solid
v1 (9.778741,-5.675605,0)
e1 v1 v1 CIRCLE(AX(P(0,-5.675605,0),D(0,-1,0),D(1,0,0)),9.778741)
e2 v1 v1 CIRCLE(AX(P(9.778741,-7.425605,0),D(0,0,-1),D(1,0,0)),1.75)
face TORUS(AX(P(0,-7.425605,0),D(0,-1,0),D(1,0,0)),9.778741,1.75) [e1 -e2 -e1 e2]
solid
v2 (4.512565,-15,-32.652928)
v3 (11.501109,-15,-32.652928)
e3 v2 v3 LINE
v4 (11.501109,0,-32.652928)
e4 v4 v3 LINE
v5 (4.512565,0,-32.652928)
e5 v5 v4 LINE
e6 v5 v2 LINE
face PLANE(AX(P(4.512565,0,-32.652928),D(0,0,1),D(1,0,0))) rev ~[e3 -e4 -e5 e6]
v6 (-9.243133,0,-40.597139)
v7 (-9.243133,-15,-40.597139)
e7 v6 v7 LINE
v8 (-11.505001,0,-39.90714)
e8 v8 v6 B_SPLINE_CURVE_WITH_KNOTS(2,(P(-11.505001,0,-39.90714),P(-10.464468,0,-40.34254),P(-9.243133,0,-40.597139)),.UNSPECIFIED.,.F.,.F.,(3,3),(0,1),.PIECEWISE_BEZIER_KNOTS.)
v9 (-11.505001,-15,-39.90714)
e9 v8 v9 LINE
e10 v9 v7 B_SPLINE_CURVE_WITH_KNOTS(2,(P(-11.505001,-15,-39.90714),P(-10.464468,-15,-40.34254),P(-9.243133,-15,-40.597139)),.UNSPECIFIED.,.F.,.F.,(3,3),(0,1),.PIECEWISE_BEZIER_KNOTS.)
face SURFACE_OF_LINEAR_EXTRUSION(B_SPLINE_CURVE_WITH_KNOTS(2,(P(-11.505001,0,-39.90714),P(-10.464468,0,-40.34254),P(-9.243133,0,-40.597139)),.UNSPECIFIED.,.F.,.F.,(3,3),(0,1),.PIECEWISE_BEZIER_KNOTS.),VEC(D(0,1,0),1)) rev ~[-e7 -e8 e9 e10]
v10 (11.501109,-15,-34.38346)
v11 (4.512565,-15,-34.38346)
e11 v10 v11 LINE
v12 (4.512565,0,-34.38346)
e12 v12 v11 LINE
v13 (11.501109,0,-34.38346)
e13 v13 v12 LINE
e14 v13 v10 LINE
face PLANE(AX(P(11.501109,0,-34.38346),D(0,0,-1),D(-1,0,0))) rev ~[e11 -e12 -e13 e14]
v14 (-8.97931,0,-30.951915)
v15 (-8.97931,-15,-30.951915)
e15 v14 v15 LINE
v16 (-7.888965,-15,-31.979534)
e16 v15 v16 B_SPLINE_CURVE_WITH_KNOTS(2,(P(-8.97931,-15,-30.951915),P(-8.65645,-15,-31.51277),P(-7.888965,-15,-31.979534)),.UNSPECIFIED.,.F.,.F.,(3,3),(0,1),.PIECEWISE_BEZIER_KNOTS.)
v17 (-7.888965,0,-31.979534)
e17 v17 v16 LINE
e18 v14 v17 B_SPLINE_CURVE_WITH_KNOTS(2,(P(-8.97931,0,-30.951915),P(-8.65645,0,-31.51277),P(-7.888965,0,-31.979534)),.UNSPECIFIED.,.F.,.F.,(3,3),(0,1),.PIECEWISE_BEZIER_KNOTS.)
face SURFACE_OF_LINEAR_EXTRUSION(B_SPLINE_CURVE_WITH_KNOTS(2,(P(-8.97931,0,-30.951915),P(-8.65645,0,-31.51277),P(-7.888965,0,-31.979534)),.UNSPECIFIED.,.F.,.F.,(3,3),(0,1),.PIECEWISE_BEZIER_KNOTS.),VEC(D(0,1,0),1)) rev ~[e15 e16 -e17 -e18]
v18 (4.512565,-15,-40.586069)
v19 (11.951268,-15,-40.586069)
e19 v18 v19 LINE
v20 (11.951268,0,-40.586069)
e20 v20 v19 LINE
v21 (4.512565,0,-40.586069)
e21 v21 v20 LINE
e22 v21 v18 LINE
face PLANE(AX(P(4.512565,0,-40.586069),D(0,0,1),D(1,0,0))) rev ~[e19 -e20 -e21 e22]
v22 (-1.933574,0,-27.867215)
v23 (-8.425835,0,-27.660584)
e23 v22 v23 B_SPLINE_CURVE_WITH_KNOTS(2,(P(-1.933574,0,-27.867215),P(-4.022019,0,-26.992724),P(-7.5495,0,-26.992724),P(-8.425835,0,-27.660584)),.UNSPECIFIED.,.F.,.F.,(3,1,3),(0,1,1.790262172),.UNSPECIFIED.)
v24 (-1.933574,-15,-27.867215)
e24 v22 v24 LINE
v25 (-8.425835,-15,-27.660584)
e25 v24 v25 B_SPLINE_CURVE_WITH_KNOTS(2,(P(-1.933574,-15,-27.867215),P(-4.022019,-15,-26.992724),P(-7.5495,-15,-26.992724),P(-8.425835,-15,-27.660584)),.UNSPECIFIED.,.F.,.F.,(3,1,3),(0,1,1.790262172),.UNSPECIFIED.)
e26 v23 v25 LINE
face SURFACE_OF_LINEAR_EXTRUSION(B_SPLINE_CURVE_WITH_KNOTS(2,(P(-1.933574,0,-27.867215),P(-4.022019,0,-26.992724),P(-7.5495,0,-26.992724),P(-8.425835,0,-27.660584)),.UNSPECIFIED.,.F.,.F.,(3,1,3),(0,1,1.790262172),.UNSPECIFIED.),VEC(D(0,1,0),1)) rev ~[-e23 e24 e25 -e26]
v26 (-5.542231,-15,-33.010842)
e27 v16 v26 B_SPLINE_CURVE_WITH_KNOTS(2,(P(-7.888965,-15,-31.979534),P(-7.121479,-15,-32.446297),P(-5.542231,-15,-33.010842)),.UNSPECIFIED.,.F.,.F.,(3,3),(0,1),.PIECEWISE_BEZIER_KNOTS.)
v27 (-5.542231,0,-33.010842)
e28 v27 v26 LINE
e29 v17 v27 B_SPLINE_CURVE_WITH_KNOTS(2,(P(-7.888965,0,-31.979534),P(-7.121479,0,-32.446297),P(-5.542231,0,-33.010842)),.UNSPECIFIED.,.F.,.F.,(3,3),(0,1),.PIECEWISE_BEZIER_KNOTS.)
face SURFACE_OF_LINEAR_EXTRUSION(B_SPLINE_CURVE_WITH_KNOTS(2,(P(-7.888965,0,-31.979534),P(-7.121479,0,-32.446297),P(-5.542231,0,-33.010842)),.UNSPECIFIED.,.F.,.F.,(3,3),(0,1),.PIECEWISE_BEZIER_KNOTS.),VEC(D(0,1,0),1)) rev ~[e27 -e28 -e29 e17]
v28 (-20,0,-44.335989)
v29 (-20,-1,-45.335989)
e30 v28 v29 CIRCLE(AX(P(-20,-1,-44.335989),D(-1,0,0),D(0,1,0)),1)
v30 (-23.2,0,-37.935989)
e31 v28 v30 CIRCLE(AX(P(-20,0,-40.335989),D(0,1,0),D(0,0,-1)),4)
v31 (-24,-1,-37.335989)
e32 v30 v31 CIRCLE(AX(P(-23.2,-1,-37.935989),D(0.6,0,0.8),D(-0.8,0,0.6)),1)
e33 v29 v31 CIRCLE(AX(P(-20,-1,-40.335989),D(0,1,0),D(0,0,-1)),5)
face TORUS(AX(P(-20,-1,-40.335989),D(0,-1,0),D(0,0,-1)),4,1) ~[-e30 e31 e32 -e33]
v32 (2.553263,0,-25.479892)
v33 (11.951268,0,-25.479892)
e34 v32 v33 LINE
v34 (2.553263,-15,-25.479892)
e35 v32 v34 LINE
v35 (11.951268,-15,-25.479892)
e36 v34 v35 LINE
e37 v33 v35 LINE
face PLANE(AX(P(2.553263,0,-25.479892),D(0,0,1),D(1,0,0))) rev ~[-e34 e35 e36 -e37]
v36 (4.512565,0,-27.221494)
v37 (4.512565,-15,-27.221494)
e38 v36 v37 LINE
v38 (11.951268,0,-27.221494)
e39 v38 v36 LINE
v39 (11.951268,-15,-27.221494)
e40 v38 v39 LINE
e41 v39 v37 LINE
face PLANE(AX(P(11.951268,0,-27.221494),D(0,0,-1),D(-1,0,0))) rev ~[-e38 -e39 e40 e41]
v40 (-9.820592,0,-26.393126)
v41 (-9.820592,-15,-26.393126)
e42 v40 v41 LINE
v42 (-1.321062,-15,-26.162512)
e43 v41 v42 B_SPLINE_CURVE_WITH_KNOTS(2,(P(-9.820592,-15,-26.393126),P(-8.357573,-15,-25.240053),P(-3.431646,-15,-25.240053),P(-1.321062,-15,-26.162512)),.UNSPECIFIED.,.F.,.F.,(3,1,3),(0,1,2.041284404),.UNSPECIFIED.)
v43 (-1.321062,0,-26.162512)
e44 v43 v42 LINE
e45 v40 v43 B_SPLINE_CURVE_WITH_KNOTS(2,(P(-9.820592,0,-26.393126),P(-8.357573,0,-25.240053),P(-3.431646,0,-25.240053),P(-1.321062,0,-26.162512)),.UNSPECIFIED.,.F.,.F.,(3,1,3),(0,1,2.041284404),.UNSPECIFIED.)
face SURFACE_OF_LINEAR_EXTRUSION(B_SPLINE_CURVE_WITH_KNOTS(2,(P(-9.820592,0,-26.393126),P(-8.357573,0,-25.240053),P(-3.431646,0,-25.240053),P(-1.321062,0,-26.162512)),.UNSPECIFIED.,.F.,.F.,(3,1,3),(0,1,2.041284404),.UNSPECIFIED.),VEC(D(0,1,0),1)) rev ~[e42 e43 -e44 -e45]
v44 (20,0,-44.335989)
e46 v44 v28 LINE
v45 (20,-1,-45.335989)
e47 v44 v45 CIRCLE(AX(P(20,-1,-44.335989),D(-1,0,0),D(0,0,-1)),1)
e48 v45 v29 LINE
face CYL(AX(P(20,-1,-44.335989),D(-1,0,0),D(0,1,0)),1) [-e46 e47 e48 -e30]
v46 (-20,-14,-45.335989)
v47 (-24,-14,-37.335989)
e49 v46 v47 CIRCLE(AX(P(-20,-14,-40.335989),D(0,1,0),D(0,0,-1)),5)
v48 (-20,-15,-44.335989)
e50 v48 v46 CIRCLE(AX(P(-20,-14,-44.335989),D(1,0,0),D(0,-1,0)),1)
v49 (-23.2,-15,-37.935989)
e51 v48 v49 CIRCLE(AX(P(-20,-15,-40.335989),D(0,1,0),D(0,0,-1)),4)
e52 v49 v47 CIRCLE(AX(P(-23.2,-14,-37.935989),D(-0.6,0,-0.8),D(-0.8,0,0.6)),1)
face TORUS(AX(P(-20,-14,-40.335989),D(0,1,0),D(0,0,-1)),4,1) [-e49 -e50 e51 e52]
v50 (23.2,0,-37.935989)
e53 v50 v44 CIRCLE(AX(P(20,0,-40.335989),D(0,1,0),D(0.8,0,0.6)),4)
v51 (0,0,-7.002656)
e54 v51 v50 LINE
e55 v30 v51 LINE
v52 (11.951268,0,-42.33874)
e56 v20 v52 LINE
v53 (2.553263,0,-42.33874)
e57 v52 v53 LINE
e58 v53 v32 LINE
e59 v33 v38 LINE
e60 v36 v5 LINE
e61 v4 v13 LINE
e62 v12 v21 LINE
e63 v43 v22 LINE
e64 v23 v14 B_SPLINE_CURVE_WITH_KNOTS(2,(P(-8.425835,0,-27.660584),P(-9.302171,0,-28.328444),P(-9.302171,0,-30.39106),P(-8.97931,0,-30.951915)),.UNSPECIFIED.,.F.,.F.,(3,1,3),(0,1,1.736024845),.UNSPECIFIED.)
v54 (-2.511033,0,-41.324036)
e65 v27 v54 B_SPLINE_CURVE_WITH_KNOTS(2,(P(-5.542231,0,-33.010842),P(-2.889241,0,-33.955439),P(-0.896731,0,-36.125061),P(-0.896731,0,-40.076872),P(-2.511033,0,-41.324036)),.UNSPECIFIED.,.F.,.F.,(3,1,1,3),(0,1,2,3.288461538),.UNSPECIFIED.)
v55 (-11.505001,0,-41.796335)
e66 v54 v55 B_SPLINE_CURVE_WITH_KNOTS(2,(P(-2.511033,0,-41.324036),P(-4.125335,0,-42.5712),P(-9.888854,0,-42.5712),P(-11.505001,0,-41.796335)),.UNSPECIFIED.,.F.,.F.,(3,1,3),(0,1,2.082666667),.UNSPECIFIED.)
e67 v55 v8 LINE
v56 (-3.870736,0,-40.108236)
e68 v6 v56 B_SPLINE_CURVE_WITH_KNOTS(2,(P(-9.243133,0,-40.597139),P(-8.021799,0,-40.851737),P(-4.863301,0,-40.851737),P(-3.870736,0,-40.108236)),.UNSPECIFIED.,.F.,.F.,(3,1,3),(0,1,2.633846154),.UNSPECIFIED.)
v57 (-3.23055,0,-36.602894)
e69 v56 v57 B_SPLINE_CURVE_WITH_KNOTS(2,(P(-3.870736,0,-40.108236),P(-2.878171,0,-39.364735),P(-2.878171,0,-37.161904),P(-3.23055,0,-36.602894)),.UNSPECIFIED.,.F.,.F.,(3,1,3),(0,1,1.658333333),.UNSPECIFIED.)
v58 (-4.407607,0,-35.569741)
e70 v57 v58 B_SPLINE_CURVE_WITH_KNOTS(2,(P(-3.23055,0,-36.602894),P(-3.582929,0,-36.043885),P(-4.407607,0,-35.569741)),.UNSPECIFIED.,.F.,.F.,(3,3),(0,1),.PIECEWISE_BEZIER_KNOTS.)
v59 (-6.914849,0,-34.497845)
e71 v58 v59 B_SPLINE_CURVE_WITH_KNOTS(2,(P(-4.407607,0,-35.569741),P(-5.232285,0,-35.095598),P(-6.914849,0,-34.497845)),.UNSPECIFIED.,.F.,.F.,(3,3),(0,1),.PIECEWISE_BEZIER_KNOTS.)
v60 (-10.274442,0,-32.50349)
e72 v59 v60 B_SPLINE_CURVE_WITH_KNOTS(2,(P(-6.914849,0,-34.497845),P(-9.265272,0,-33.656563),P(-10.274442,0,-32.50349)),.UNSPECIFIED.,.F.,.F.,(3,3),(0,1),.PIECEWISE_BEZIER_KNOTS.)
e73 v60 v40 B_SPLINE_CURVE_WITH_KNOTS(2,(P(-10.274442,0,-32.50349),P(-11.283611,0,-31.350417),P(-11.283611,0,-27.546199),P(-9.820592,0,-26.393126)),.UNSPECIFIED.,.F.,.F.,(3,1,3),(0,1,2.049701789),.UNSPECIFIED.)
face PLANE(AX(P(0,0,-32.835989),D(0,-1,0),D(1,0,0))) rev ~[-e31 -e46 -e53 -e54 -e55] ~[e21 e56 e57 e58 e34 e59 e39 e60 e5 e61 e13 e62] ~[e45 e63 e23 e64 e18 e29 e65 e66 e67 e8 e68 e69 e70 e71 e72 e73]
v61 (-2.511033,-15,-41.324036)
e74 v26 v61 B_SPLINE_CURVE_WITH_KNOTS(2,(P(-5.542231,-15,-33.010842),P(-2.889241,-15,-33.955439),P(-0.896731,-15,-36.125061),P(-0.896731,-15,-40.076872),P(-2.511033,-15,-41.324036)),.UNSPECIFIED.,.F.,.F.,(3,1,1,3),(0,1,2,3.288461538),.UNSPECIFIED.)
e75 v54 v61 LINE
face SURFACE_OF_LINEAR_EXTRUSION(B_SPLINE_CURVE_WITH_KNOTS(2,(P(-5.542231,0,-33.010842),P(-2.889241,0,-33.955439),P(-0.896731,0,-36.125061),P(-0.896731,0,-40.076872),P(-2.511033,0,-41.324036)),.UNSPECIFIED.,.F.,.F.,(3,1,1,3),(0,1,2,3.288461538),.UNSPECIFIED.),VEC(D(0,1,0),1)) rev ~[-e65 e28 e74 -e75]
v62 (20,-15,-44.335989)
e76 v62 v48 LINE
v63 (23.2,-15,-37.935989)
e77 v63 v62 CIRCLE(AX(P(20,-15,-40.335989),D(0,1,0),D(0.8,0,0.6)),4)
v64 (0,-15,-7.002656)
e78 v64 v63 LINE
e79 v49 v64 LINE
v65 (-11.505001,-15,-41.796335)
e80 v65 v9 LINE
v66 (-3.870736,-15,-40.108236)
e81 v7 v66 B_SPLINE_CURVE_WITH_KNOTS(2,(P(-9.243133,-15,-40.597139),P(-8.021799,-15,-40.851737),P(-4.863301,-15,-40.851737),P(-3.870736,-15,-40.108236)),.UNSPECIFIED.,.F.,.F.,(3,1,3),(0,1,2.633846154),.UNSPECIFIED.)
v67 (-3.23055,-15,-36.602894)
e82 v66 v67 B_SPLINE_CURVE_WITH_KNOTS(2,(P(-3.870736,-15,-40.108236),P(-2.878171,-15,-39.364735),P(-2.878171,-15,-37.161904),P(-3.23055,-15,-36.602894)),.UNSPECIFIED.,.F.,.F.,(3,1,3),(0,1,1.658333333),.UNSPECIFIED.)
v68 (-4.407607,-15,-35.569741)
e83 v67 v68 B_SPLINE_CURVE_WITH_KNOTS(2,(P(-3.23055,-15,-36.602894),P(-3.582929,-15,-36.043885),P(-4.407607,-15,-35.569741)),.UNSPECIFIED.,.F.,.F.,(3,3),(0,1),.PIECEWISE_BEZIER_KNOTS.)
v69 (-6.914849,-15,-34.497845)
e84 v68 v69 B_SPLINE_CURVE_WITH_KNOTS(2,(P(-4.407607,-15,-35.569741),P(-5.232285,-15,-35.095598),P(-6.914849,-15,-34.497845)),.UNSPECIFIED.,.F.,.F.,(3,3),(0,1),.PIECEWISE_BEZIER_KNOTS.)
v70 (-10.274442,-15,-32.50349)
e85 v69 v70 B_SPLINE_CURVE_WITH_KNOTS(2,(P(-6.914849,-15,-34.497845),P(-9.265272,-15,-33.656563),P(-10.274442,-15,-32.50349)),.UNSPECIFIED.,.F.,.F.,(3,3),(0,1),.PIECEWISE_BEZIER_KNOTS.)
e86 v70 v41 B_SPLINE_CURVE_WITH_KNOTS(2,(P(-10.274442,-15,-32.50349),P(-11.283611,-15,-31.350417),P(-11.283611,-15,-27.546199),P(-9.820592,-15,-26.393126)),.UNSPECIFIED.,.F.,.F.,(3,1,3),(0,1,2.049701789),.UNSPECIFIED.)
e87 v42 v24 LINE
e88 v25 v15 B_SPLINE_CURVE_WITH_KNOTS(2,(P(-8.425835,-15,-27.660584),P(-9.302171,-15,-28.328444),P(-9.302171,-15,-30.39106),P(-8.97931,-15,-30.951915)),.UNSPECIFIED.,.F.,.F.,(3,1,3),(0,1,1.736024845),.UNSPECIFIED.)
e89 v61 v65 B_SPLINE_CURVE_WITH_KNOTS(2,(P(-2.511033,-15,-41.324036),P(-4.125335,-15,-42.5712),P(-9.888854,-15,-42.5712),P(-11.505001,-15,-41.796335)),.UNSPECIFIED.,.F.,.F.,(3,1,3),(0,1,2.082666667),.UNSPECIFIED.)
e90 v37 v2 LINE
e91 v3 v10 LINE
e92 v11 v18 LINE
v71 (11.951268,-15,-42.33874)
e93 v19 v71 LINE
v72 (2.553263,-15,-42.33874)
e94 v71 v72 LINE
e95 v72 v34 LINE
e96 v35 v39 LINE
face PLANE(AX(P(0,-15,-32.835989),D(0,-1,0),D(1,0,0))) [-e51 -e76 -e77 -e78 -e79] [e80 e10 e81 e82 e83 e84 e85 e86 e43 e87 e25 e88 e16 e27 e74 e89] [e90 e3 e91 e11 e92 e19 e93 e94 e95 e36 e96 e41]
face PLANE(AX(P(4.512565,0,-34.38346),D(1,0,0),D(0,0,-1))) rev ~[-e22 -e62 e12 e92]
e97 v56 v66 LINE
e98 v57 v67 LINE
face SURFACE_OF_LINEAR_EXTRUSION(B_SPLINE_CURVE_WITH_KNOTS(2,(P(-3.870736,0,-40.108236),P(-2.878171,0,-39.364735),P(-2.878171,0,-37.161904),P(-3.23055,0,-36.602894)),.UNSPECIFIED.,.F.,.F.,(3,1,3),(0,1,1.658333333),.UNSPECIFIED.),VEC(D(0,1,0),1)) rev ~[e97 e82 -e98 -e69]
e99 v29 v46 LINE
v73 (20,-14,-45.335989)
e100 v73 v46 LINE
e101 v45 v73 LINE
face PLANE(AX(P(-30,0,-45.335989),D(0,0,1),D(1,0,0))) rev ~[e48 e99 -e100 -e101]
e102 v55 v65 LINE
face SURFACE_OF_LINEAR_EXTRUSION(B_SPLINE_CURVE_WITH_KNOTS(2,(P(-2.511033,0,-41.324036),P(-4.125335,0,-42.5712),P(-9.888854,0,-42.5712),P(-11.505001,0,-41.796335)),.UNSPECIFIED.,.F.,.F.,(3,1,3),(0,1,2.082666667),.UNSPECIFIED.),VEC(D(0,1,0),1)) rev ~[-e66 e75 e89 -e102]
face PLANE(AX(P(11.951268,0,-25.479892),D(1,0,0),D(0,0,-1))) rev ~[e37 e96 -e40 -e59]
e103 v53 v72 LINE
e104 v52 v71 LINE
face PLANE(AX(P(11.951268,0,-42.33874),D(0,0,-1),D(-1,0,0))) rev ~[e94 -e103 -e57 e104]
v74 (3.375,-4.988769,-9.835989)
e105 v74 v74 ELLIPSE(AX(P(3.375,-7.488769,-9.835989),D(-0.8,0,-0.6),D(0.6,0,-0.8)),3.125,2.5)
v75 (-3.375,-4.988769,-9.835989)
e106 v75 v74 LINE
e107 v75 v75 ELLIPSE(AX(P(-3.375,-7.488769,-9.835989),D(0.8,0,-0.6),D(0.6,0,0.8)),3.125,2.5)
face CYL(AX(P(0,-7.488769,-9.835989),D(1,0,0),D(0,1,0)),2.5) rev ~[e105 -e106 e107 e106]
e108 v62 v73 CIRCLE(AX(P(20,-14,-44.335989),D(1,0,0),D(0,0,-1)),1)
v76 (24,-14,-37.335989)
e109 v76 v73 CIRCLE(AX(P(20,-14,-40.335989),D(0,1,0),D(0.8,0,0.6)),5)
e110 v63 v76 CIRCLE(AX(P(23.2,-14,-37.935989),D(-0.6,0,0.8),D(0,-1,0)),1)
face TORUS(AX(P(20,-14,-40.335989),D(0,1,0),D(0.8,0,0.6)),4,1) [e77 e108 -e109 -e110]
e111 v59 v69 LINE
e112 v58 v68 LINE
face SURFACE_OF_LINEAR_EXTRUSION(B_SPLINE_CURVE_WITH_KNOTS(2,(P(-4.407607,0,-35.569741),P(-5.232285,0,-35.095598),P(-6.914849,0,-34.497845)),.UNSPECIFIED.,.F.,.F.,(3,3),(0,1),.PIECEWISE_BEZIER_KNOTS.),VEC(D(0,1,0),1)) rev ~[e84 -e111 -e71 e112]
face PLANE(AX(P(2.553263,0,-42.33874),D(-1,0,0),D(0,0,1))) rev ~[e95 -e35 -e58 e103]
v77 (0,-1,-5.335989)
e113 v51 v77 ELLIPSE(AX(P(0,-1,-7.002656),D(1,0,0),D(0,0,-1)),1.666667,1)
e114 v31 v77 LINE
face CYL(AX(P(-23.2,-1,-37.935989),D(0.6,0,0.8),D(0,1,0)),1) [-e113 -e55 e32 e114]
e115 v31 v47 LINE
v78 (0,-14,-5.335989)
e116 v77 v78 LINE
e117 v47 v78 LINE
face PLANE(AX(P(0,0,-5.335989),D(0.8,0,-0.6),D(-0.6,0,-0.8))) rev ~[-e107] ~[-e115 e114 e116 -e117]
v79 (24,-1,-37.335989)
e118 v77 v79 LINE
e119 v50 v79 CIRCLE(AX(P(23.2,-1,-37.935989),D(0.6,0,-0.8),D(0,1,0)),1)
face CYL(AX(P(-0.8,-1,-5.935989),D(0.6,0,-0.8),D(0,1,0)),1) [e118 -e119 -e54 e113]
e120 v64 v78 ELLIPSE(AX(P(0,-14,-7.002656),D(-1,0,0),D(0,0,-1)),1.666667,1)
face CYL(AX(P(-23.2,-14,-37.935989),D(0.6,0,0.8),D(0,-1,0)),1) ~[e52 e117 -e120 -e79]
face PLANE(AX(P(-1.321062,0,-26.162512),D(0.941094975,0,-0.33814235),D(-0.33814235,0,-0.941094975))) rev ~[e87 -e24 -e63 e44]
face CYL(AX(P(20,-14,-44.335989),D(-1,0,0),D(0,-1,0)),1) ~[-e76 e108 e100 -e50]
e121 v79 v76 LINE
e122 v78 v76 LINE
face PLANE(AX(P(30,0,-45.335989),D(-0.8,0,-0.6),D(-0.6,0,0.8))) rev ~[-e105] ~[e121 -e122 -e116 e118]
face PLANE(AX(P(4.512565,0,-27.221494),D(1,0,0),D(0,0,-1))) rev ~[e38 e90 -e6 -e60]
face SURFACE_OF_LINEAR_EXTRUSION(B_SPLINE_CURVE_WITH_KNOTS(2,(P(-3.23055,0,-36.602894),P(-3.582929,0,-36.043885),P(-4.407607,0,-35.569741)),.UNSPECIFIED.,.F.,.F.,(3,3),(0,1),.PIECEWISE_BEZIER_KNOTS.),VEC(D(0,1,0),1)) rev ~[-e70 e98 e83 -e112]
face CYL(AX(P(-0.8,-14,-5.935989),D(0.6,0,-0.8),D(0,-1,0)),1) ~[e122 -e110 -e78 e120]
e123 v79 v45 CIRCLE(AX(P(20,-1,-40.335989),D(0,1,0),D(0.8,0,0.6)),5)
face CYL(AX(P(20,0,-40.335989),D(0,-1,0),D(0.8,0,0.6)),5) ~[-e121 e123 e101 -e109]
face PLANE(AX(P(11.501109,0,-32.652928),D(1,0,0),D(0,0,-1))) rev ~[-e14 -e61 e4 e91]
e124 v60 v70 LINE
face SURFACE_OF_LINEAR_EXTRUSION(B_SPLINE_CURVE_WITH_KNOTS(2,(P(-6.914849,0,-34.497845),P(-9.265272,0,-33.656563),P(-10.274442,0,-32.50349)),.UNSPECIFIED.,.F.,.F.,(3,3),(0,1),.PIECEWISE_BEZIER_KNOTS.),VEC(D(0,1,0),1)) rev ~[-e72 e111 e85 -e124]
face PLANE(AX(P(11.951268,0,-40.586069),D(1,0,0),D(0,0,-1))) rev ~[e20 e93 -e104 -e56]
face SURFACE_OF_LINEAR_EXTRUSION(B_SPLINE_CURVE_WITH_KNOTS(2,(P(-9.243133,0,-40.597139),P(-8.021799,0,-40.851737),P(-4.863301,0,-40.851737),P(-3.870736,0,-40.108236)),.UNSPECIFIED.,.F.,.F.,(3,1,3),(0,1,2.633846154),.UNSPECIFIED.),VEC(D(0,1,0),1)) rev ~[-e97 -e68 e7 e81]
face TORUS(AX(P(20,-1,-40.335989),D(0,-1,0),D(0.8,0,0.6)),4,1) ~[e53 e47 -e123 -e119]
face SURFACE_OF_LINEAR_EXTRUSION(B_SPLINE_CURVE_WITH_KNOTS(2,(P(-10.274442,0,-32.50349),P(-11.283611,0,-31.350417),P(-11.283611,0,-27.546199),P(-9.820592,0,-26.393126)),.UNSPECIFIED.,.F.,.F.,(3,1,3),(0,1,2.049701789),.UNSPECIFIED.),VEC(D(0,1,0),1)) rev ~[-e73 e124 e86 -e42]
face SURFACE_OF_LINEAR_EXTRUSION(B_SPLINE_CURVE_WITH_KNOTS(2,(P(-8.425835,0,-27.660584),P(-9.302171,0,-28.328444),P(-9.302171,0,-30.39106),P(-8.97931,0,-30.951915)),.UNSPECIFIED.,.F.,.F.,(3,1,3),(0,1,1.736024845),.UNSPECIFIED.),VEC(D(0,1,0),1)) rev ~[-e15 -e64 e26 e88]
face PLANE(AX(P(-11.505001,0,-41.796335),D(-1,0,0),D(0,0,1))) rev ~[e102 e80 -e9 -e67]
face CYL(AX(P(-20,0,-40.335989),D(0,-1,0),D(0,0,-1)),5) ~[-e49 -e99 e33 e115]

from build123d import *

# Parameters (mm, degrees)
F1_DEPTH = 15
F2_R     = 5
F3_R     = 1
F4_R     = 2.5
F5_DEPTH = 12.5
F6_R     = 1.75


with BuildPart() as f1:
    # F0 (on Front) → F1 (new body)
    with BuildSketch(Plane.XZ):
        Polygon((30, -45.3359890039), (0, -5.3359890039), (-30, -45.3359890039), (0, -45.3359890039), align=None)
        with BuildLine():
            add(Edge.make_bspline(
                [(-1.8929857079, -35.0402501436), (-0.896730762, -36.1250610847), (-0.896730762, -37.8519029909)],
                knots=[0, 0, 0, 1, 1, 1], degree=2))
            add(Edge.make_bspline(
                [(-0.896730762, -37.8519029909), (-0.896730762, -40.0768723701), (-2.5110327577, -41.324035969)],
                knots=[0, 0, 0, 1, 1, 1], degree=2))
            add(Edge.make_bspline(
                [(-2.5110327577, -41.324035969), (-4.1253347533, -42.571199568), (-6.8927096031, -42.571199568)],
                knots=[0, 0, 0, 1, 1, 1], degree=2))
            add(Edge.make_bspline(
                [(-6.8927096031, -42.571199568), (-9.888854107, -42.571199568), (-11.5050010193, -41.79633461)],
                knots=[0, 0, 0, 1, 1, 1], degree=2))
            Line((-11.5050010193, -41.79633461), (-11.5050010193, -39.907140046))
            add(Edge.make_bspline(
                [(-11.5050010193, -39.907140046), (-10.4644680758, -40.3425403557), (-9.2431333088, -40.5971388418)],
                knots=[0, 0, 0, 1, 1, 1], degree=2))
            add(Edge.make_bspline(
                [(-9.2431333088, -40.5971388418), (-8.0217985417, -40.851737328), (-6.8226027735, -40.851737328)],
                knots=[0, 0, 0, 1, 1, 1], degree=2))
            add(Edge.make_bspline(
                [(-6.8226027735, -40.851737328), (-4.8633013799, -40.851737328), (-3.8707362672, -40.1082359517)],
                knots=[0, 0, 0, 1, 1, 1], degree=2))
            add(Edge.make_bspline(
                [(-3.8707362672, -40.1082359517), (-2.8781711544, -39.3647345754), (-2.8781711544, -38.0363946476)],
                knots=[0, 0, 0, 1, 1, 1], degree=2))
            add(Edge.make_bspline(
                [(-2.8781711544, -38.0363946476), (-2.8781711544, -37.161904195), (-3.2305502186, -36.6028944754)],
                knots=[0, 0, 0, 1, 1, 1], degree=2))
            add(Edge.make_bspline(
                [(-3.2305502186, -36.6028944754), (-3.5829292828, -36.0438847557), (-4.407606988, -35.5697411982)],
                knots=[0, 0, 0, 1, 1, 1], degree=2))
            add(Edge.make_bspline(
                [(-4.407606988, -35.5697411982), (-5.2322846932, -35.0955976406), (-6.9148486019, -34.497844673)],
                knots=[0, 0, 0, 1, 1, 1], degree=2))
            add(Edge.make_bspline(
                [(-6.9148486019, -34.497844673), (-9.2652723076, -33.6565627187), (-10.2744416694, -32.5034898647)],
                knots=[0, 0, 0, 1, 1, 1], degree=2))
            add(Edge.make_bspline(
                [(-10.2744416694, -32.5034898647), (-11.2836110313, -31.3504170106), (-11.2836110313, -29.4944309447)],
                knots=[0, 0, 0, 1, 1, 1], degree=2))
            add(Edge.make_bspline(
                [(-11.2836110313, -29.4944309447), (-11.2836110313, -27.5461990505), (-9.8205921941, -26.3931261965)],
                knots=[0, 0, 0, 1, 1, 1], degree=2))
            add(Edge.make_bspline(
                [(-9.8205921941, -26.3931261965), (-8.3575733568, -25.2400533424), (-5.9444224879, -25.2400533424)],
                knots=[0, 0, 0, 1, 1, 1], degree=2))
            add(Edge.make_bspline(
                [(-5.9444224879, -25.2400533424), (-3.4316461243, -25.2400533424), (-1.3210615723, -26.1625116257)],
                knots=[0, 0, 0, 1, 1, 1], degree=2))
            Line((-1.3210615723, -26.1625116257), (-1.9335738723, -27.8672145331))
            add(Edge.make_bspline(
                [(-1.9335738723, -27.8672145331), (-4.0220194256, -26.9927240806), (-5.9923903186, -26.9927240806)],
                knots=[0, 0, 0, 1, 1, 1], degree=2))
            add(Edge.make_bspline(
                [(-5.9923903186, -26.9927240806), (-7.5494999007, -26.9927240806), (-8.4258352698, -27.6605838776)],
                knots=[0, 0, 0, 1, 1, 1], degree=2))
            add(Edge.make_bspline(
                [(-8.4258352698, -27.6605838776), (-9.3021706389, -28.3284436747), (-9.3021706389, -29.5165699435)],
                knots=[0, 0, 0, 1, 1, 1], degree=2))
            add(Edge.make_bspline(
                [(-9.3021706389, -29.5165699435), (-9.3021706389, -30.391060396), (-8.9793102398, -30.9519150323)],
                knots=[0, 0, 0, 1, 1, 1], degree=2))
            add(Edge.make_bspline(
                [(-8.9793102398, -30.9519150323), (-8.6564498406, -31.5127696685), (-7.888964549, -31.9795335598)],
                knots=[0, 0, 0, 1, 1, 1], degree=2))
            add(Edge.make_bspline(
                [(-7.888964549, -31.9795335598), (-7.1214792573, -32.4462974511), (-5.5422306764, -33.0108419204)],
                knots=[0, 0, 0, 1, 1, 1], degree=2))
            add(Edge.make_bspline(
                [(-5.5422306764, -33.0108419204), (-2.8892406538, -33.9554392025), (-1.8929857079, -35.0402501436)],
                knots=[0, 0, 0, 1, 1, 1], degree=2))
        make_face(mode=Mode.SUBTRACT)
        Polygon((11.951268207, -40.5860693424), (11.951268207, -42.3387400806), (2.5532632173, -42.3387400806), (2.5532632173, -25.4798924961), (11.951268207, -25.4798924961), (11.951268207, -27.2214937348), (4.512564611, -27.2214937348), (4.512564611, -32.6529281066), (11.5011085648, -32.6529281066), (11.5011085648, -34.3834598459), (4.512564611, -34.3834598459), (4.512564611, -40.5860693424), align=None, mode=Mode.SUBTRACT)
    extrude(amount=F1_DEPTH)

    # F2
    f2_edges = [f1.edges().sort_by_distance(p)[0] for p in [
        (30, -7.5, -45.335989),
        (-30, -7.5, -45.335989),
    ]]
    fillet(f2_edges, radius=F2_R)

    # F3
    f3_edges = [f1.edges().sort_by_distance(p)[0] for p in [
        (-24.472136, 0, -42.572057),
        (-20, -7.5, -45.335989),
        (-24, -7.5, -37.335989),
        (-24.472136, -15, -42.572057),
        (24.472136, 0, -42.572057),
        (20, -7.5, -45.335989),
        (24, -7.5, -37.335989),
        (24.472136, -15, -42.572057),
    ]]
    fillet(f3_edges, radius=F3_R)

    # F4 (on Right) → F5 (cut, symmetric)
    with BuildSketch(Plane.YZ):
        with Locations((-7.4887694791, -9.8359890039)):
            Circle(F4_R)
    extrude(amount=F5_DEPTH, both=True, mode=Mode.SUBTRACT)


with BuildPart() as f9:
    # F9: sweep along a path in F8
    with BuildLine(Plane.XZ.offset(7.4256048538)) as f9_path:
        CenterArc((0, 0), 10, 0, 360)
    # F6 (on Right) → F9 (sweep)
    with BuildSketch(Plane.YZ):
        with Locations((-7.4256048538, -9.7787408158)):
            Circle(F6_R)
    sweep(path=f9_path.line)


solid = Compound([f1.part, f9.part])
